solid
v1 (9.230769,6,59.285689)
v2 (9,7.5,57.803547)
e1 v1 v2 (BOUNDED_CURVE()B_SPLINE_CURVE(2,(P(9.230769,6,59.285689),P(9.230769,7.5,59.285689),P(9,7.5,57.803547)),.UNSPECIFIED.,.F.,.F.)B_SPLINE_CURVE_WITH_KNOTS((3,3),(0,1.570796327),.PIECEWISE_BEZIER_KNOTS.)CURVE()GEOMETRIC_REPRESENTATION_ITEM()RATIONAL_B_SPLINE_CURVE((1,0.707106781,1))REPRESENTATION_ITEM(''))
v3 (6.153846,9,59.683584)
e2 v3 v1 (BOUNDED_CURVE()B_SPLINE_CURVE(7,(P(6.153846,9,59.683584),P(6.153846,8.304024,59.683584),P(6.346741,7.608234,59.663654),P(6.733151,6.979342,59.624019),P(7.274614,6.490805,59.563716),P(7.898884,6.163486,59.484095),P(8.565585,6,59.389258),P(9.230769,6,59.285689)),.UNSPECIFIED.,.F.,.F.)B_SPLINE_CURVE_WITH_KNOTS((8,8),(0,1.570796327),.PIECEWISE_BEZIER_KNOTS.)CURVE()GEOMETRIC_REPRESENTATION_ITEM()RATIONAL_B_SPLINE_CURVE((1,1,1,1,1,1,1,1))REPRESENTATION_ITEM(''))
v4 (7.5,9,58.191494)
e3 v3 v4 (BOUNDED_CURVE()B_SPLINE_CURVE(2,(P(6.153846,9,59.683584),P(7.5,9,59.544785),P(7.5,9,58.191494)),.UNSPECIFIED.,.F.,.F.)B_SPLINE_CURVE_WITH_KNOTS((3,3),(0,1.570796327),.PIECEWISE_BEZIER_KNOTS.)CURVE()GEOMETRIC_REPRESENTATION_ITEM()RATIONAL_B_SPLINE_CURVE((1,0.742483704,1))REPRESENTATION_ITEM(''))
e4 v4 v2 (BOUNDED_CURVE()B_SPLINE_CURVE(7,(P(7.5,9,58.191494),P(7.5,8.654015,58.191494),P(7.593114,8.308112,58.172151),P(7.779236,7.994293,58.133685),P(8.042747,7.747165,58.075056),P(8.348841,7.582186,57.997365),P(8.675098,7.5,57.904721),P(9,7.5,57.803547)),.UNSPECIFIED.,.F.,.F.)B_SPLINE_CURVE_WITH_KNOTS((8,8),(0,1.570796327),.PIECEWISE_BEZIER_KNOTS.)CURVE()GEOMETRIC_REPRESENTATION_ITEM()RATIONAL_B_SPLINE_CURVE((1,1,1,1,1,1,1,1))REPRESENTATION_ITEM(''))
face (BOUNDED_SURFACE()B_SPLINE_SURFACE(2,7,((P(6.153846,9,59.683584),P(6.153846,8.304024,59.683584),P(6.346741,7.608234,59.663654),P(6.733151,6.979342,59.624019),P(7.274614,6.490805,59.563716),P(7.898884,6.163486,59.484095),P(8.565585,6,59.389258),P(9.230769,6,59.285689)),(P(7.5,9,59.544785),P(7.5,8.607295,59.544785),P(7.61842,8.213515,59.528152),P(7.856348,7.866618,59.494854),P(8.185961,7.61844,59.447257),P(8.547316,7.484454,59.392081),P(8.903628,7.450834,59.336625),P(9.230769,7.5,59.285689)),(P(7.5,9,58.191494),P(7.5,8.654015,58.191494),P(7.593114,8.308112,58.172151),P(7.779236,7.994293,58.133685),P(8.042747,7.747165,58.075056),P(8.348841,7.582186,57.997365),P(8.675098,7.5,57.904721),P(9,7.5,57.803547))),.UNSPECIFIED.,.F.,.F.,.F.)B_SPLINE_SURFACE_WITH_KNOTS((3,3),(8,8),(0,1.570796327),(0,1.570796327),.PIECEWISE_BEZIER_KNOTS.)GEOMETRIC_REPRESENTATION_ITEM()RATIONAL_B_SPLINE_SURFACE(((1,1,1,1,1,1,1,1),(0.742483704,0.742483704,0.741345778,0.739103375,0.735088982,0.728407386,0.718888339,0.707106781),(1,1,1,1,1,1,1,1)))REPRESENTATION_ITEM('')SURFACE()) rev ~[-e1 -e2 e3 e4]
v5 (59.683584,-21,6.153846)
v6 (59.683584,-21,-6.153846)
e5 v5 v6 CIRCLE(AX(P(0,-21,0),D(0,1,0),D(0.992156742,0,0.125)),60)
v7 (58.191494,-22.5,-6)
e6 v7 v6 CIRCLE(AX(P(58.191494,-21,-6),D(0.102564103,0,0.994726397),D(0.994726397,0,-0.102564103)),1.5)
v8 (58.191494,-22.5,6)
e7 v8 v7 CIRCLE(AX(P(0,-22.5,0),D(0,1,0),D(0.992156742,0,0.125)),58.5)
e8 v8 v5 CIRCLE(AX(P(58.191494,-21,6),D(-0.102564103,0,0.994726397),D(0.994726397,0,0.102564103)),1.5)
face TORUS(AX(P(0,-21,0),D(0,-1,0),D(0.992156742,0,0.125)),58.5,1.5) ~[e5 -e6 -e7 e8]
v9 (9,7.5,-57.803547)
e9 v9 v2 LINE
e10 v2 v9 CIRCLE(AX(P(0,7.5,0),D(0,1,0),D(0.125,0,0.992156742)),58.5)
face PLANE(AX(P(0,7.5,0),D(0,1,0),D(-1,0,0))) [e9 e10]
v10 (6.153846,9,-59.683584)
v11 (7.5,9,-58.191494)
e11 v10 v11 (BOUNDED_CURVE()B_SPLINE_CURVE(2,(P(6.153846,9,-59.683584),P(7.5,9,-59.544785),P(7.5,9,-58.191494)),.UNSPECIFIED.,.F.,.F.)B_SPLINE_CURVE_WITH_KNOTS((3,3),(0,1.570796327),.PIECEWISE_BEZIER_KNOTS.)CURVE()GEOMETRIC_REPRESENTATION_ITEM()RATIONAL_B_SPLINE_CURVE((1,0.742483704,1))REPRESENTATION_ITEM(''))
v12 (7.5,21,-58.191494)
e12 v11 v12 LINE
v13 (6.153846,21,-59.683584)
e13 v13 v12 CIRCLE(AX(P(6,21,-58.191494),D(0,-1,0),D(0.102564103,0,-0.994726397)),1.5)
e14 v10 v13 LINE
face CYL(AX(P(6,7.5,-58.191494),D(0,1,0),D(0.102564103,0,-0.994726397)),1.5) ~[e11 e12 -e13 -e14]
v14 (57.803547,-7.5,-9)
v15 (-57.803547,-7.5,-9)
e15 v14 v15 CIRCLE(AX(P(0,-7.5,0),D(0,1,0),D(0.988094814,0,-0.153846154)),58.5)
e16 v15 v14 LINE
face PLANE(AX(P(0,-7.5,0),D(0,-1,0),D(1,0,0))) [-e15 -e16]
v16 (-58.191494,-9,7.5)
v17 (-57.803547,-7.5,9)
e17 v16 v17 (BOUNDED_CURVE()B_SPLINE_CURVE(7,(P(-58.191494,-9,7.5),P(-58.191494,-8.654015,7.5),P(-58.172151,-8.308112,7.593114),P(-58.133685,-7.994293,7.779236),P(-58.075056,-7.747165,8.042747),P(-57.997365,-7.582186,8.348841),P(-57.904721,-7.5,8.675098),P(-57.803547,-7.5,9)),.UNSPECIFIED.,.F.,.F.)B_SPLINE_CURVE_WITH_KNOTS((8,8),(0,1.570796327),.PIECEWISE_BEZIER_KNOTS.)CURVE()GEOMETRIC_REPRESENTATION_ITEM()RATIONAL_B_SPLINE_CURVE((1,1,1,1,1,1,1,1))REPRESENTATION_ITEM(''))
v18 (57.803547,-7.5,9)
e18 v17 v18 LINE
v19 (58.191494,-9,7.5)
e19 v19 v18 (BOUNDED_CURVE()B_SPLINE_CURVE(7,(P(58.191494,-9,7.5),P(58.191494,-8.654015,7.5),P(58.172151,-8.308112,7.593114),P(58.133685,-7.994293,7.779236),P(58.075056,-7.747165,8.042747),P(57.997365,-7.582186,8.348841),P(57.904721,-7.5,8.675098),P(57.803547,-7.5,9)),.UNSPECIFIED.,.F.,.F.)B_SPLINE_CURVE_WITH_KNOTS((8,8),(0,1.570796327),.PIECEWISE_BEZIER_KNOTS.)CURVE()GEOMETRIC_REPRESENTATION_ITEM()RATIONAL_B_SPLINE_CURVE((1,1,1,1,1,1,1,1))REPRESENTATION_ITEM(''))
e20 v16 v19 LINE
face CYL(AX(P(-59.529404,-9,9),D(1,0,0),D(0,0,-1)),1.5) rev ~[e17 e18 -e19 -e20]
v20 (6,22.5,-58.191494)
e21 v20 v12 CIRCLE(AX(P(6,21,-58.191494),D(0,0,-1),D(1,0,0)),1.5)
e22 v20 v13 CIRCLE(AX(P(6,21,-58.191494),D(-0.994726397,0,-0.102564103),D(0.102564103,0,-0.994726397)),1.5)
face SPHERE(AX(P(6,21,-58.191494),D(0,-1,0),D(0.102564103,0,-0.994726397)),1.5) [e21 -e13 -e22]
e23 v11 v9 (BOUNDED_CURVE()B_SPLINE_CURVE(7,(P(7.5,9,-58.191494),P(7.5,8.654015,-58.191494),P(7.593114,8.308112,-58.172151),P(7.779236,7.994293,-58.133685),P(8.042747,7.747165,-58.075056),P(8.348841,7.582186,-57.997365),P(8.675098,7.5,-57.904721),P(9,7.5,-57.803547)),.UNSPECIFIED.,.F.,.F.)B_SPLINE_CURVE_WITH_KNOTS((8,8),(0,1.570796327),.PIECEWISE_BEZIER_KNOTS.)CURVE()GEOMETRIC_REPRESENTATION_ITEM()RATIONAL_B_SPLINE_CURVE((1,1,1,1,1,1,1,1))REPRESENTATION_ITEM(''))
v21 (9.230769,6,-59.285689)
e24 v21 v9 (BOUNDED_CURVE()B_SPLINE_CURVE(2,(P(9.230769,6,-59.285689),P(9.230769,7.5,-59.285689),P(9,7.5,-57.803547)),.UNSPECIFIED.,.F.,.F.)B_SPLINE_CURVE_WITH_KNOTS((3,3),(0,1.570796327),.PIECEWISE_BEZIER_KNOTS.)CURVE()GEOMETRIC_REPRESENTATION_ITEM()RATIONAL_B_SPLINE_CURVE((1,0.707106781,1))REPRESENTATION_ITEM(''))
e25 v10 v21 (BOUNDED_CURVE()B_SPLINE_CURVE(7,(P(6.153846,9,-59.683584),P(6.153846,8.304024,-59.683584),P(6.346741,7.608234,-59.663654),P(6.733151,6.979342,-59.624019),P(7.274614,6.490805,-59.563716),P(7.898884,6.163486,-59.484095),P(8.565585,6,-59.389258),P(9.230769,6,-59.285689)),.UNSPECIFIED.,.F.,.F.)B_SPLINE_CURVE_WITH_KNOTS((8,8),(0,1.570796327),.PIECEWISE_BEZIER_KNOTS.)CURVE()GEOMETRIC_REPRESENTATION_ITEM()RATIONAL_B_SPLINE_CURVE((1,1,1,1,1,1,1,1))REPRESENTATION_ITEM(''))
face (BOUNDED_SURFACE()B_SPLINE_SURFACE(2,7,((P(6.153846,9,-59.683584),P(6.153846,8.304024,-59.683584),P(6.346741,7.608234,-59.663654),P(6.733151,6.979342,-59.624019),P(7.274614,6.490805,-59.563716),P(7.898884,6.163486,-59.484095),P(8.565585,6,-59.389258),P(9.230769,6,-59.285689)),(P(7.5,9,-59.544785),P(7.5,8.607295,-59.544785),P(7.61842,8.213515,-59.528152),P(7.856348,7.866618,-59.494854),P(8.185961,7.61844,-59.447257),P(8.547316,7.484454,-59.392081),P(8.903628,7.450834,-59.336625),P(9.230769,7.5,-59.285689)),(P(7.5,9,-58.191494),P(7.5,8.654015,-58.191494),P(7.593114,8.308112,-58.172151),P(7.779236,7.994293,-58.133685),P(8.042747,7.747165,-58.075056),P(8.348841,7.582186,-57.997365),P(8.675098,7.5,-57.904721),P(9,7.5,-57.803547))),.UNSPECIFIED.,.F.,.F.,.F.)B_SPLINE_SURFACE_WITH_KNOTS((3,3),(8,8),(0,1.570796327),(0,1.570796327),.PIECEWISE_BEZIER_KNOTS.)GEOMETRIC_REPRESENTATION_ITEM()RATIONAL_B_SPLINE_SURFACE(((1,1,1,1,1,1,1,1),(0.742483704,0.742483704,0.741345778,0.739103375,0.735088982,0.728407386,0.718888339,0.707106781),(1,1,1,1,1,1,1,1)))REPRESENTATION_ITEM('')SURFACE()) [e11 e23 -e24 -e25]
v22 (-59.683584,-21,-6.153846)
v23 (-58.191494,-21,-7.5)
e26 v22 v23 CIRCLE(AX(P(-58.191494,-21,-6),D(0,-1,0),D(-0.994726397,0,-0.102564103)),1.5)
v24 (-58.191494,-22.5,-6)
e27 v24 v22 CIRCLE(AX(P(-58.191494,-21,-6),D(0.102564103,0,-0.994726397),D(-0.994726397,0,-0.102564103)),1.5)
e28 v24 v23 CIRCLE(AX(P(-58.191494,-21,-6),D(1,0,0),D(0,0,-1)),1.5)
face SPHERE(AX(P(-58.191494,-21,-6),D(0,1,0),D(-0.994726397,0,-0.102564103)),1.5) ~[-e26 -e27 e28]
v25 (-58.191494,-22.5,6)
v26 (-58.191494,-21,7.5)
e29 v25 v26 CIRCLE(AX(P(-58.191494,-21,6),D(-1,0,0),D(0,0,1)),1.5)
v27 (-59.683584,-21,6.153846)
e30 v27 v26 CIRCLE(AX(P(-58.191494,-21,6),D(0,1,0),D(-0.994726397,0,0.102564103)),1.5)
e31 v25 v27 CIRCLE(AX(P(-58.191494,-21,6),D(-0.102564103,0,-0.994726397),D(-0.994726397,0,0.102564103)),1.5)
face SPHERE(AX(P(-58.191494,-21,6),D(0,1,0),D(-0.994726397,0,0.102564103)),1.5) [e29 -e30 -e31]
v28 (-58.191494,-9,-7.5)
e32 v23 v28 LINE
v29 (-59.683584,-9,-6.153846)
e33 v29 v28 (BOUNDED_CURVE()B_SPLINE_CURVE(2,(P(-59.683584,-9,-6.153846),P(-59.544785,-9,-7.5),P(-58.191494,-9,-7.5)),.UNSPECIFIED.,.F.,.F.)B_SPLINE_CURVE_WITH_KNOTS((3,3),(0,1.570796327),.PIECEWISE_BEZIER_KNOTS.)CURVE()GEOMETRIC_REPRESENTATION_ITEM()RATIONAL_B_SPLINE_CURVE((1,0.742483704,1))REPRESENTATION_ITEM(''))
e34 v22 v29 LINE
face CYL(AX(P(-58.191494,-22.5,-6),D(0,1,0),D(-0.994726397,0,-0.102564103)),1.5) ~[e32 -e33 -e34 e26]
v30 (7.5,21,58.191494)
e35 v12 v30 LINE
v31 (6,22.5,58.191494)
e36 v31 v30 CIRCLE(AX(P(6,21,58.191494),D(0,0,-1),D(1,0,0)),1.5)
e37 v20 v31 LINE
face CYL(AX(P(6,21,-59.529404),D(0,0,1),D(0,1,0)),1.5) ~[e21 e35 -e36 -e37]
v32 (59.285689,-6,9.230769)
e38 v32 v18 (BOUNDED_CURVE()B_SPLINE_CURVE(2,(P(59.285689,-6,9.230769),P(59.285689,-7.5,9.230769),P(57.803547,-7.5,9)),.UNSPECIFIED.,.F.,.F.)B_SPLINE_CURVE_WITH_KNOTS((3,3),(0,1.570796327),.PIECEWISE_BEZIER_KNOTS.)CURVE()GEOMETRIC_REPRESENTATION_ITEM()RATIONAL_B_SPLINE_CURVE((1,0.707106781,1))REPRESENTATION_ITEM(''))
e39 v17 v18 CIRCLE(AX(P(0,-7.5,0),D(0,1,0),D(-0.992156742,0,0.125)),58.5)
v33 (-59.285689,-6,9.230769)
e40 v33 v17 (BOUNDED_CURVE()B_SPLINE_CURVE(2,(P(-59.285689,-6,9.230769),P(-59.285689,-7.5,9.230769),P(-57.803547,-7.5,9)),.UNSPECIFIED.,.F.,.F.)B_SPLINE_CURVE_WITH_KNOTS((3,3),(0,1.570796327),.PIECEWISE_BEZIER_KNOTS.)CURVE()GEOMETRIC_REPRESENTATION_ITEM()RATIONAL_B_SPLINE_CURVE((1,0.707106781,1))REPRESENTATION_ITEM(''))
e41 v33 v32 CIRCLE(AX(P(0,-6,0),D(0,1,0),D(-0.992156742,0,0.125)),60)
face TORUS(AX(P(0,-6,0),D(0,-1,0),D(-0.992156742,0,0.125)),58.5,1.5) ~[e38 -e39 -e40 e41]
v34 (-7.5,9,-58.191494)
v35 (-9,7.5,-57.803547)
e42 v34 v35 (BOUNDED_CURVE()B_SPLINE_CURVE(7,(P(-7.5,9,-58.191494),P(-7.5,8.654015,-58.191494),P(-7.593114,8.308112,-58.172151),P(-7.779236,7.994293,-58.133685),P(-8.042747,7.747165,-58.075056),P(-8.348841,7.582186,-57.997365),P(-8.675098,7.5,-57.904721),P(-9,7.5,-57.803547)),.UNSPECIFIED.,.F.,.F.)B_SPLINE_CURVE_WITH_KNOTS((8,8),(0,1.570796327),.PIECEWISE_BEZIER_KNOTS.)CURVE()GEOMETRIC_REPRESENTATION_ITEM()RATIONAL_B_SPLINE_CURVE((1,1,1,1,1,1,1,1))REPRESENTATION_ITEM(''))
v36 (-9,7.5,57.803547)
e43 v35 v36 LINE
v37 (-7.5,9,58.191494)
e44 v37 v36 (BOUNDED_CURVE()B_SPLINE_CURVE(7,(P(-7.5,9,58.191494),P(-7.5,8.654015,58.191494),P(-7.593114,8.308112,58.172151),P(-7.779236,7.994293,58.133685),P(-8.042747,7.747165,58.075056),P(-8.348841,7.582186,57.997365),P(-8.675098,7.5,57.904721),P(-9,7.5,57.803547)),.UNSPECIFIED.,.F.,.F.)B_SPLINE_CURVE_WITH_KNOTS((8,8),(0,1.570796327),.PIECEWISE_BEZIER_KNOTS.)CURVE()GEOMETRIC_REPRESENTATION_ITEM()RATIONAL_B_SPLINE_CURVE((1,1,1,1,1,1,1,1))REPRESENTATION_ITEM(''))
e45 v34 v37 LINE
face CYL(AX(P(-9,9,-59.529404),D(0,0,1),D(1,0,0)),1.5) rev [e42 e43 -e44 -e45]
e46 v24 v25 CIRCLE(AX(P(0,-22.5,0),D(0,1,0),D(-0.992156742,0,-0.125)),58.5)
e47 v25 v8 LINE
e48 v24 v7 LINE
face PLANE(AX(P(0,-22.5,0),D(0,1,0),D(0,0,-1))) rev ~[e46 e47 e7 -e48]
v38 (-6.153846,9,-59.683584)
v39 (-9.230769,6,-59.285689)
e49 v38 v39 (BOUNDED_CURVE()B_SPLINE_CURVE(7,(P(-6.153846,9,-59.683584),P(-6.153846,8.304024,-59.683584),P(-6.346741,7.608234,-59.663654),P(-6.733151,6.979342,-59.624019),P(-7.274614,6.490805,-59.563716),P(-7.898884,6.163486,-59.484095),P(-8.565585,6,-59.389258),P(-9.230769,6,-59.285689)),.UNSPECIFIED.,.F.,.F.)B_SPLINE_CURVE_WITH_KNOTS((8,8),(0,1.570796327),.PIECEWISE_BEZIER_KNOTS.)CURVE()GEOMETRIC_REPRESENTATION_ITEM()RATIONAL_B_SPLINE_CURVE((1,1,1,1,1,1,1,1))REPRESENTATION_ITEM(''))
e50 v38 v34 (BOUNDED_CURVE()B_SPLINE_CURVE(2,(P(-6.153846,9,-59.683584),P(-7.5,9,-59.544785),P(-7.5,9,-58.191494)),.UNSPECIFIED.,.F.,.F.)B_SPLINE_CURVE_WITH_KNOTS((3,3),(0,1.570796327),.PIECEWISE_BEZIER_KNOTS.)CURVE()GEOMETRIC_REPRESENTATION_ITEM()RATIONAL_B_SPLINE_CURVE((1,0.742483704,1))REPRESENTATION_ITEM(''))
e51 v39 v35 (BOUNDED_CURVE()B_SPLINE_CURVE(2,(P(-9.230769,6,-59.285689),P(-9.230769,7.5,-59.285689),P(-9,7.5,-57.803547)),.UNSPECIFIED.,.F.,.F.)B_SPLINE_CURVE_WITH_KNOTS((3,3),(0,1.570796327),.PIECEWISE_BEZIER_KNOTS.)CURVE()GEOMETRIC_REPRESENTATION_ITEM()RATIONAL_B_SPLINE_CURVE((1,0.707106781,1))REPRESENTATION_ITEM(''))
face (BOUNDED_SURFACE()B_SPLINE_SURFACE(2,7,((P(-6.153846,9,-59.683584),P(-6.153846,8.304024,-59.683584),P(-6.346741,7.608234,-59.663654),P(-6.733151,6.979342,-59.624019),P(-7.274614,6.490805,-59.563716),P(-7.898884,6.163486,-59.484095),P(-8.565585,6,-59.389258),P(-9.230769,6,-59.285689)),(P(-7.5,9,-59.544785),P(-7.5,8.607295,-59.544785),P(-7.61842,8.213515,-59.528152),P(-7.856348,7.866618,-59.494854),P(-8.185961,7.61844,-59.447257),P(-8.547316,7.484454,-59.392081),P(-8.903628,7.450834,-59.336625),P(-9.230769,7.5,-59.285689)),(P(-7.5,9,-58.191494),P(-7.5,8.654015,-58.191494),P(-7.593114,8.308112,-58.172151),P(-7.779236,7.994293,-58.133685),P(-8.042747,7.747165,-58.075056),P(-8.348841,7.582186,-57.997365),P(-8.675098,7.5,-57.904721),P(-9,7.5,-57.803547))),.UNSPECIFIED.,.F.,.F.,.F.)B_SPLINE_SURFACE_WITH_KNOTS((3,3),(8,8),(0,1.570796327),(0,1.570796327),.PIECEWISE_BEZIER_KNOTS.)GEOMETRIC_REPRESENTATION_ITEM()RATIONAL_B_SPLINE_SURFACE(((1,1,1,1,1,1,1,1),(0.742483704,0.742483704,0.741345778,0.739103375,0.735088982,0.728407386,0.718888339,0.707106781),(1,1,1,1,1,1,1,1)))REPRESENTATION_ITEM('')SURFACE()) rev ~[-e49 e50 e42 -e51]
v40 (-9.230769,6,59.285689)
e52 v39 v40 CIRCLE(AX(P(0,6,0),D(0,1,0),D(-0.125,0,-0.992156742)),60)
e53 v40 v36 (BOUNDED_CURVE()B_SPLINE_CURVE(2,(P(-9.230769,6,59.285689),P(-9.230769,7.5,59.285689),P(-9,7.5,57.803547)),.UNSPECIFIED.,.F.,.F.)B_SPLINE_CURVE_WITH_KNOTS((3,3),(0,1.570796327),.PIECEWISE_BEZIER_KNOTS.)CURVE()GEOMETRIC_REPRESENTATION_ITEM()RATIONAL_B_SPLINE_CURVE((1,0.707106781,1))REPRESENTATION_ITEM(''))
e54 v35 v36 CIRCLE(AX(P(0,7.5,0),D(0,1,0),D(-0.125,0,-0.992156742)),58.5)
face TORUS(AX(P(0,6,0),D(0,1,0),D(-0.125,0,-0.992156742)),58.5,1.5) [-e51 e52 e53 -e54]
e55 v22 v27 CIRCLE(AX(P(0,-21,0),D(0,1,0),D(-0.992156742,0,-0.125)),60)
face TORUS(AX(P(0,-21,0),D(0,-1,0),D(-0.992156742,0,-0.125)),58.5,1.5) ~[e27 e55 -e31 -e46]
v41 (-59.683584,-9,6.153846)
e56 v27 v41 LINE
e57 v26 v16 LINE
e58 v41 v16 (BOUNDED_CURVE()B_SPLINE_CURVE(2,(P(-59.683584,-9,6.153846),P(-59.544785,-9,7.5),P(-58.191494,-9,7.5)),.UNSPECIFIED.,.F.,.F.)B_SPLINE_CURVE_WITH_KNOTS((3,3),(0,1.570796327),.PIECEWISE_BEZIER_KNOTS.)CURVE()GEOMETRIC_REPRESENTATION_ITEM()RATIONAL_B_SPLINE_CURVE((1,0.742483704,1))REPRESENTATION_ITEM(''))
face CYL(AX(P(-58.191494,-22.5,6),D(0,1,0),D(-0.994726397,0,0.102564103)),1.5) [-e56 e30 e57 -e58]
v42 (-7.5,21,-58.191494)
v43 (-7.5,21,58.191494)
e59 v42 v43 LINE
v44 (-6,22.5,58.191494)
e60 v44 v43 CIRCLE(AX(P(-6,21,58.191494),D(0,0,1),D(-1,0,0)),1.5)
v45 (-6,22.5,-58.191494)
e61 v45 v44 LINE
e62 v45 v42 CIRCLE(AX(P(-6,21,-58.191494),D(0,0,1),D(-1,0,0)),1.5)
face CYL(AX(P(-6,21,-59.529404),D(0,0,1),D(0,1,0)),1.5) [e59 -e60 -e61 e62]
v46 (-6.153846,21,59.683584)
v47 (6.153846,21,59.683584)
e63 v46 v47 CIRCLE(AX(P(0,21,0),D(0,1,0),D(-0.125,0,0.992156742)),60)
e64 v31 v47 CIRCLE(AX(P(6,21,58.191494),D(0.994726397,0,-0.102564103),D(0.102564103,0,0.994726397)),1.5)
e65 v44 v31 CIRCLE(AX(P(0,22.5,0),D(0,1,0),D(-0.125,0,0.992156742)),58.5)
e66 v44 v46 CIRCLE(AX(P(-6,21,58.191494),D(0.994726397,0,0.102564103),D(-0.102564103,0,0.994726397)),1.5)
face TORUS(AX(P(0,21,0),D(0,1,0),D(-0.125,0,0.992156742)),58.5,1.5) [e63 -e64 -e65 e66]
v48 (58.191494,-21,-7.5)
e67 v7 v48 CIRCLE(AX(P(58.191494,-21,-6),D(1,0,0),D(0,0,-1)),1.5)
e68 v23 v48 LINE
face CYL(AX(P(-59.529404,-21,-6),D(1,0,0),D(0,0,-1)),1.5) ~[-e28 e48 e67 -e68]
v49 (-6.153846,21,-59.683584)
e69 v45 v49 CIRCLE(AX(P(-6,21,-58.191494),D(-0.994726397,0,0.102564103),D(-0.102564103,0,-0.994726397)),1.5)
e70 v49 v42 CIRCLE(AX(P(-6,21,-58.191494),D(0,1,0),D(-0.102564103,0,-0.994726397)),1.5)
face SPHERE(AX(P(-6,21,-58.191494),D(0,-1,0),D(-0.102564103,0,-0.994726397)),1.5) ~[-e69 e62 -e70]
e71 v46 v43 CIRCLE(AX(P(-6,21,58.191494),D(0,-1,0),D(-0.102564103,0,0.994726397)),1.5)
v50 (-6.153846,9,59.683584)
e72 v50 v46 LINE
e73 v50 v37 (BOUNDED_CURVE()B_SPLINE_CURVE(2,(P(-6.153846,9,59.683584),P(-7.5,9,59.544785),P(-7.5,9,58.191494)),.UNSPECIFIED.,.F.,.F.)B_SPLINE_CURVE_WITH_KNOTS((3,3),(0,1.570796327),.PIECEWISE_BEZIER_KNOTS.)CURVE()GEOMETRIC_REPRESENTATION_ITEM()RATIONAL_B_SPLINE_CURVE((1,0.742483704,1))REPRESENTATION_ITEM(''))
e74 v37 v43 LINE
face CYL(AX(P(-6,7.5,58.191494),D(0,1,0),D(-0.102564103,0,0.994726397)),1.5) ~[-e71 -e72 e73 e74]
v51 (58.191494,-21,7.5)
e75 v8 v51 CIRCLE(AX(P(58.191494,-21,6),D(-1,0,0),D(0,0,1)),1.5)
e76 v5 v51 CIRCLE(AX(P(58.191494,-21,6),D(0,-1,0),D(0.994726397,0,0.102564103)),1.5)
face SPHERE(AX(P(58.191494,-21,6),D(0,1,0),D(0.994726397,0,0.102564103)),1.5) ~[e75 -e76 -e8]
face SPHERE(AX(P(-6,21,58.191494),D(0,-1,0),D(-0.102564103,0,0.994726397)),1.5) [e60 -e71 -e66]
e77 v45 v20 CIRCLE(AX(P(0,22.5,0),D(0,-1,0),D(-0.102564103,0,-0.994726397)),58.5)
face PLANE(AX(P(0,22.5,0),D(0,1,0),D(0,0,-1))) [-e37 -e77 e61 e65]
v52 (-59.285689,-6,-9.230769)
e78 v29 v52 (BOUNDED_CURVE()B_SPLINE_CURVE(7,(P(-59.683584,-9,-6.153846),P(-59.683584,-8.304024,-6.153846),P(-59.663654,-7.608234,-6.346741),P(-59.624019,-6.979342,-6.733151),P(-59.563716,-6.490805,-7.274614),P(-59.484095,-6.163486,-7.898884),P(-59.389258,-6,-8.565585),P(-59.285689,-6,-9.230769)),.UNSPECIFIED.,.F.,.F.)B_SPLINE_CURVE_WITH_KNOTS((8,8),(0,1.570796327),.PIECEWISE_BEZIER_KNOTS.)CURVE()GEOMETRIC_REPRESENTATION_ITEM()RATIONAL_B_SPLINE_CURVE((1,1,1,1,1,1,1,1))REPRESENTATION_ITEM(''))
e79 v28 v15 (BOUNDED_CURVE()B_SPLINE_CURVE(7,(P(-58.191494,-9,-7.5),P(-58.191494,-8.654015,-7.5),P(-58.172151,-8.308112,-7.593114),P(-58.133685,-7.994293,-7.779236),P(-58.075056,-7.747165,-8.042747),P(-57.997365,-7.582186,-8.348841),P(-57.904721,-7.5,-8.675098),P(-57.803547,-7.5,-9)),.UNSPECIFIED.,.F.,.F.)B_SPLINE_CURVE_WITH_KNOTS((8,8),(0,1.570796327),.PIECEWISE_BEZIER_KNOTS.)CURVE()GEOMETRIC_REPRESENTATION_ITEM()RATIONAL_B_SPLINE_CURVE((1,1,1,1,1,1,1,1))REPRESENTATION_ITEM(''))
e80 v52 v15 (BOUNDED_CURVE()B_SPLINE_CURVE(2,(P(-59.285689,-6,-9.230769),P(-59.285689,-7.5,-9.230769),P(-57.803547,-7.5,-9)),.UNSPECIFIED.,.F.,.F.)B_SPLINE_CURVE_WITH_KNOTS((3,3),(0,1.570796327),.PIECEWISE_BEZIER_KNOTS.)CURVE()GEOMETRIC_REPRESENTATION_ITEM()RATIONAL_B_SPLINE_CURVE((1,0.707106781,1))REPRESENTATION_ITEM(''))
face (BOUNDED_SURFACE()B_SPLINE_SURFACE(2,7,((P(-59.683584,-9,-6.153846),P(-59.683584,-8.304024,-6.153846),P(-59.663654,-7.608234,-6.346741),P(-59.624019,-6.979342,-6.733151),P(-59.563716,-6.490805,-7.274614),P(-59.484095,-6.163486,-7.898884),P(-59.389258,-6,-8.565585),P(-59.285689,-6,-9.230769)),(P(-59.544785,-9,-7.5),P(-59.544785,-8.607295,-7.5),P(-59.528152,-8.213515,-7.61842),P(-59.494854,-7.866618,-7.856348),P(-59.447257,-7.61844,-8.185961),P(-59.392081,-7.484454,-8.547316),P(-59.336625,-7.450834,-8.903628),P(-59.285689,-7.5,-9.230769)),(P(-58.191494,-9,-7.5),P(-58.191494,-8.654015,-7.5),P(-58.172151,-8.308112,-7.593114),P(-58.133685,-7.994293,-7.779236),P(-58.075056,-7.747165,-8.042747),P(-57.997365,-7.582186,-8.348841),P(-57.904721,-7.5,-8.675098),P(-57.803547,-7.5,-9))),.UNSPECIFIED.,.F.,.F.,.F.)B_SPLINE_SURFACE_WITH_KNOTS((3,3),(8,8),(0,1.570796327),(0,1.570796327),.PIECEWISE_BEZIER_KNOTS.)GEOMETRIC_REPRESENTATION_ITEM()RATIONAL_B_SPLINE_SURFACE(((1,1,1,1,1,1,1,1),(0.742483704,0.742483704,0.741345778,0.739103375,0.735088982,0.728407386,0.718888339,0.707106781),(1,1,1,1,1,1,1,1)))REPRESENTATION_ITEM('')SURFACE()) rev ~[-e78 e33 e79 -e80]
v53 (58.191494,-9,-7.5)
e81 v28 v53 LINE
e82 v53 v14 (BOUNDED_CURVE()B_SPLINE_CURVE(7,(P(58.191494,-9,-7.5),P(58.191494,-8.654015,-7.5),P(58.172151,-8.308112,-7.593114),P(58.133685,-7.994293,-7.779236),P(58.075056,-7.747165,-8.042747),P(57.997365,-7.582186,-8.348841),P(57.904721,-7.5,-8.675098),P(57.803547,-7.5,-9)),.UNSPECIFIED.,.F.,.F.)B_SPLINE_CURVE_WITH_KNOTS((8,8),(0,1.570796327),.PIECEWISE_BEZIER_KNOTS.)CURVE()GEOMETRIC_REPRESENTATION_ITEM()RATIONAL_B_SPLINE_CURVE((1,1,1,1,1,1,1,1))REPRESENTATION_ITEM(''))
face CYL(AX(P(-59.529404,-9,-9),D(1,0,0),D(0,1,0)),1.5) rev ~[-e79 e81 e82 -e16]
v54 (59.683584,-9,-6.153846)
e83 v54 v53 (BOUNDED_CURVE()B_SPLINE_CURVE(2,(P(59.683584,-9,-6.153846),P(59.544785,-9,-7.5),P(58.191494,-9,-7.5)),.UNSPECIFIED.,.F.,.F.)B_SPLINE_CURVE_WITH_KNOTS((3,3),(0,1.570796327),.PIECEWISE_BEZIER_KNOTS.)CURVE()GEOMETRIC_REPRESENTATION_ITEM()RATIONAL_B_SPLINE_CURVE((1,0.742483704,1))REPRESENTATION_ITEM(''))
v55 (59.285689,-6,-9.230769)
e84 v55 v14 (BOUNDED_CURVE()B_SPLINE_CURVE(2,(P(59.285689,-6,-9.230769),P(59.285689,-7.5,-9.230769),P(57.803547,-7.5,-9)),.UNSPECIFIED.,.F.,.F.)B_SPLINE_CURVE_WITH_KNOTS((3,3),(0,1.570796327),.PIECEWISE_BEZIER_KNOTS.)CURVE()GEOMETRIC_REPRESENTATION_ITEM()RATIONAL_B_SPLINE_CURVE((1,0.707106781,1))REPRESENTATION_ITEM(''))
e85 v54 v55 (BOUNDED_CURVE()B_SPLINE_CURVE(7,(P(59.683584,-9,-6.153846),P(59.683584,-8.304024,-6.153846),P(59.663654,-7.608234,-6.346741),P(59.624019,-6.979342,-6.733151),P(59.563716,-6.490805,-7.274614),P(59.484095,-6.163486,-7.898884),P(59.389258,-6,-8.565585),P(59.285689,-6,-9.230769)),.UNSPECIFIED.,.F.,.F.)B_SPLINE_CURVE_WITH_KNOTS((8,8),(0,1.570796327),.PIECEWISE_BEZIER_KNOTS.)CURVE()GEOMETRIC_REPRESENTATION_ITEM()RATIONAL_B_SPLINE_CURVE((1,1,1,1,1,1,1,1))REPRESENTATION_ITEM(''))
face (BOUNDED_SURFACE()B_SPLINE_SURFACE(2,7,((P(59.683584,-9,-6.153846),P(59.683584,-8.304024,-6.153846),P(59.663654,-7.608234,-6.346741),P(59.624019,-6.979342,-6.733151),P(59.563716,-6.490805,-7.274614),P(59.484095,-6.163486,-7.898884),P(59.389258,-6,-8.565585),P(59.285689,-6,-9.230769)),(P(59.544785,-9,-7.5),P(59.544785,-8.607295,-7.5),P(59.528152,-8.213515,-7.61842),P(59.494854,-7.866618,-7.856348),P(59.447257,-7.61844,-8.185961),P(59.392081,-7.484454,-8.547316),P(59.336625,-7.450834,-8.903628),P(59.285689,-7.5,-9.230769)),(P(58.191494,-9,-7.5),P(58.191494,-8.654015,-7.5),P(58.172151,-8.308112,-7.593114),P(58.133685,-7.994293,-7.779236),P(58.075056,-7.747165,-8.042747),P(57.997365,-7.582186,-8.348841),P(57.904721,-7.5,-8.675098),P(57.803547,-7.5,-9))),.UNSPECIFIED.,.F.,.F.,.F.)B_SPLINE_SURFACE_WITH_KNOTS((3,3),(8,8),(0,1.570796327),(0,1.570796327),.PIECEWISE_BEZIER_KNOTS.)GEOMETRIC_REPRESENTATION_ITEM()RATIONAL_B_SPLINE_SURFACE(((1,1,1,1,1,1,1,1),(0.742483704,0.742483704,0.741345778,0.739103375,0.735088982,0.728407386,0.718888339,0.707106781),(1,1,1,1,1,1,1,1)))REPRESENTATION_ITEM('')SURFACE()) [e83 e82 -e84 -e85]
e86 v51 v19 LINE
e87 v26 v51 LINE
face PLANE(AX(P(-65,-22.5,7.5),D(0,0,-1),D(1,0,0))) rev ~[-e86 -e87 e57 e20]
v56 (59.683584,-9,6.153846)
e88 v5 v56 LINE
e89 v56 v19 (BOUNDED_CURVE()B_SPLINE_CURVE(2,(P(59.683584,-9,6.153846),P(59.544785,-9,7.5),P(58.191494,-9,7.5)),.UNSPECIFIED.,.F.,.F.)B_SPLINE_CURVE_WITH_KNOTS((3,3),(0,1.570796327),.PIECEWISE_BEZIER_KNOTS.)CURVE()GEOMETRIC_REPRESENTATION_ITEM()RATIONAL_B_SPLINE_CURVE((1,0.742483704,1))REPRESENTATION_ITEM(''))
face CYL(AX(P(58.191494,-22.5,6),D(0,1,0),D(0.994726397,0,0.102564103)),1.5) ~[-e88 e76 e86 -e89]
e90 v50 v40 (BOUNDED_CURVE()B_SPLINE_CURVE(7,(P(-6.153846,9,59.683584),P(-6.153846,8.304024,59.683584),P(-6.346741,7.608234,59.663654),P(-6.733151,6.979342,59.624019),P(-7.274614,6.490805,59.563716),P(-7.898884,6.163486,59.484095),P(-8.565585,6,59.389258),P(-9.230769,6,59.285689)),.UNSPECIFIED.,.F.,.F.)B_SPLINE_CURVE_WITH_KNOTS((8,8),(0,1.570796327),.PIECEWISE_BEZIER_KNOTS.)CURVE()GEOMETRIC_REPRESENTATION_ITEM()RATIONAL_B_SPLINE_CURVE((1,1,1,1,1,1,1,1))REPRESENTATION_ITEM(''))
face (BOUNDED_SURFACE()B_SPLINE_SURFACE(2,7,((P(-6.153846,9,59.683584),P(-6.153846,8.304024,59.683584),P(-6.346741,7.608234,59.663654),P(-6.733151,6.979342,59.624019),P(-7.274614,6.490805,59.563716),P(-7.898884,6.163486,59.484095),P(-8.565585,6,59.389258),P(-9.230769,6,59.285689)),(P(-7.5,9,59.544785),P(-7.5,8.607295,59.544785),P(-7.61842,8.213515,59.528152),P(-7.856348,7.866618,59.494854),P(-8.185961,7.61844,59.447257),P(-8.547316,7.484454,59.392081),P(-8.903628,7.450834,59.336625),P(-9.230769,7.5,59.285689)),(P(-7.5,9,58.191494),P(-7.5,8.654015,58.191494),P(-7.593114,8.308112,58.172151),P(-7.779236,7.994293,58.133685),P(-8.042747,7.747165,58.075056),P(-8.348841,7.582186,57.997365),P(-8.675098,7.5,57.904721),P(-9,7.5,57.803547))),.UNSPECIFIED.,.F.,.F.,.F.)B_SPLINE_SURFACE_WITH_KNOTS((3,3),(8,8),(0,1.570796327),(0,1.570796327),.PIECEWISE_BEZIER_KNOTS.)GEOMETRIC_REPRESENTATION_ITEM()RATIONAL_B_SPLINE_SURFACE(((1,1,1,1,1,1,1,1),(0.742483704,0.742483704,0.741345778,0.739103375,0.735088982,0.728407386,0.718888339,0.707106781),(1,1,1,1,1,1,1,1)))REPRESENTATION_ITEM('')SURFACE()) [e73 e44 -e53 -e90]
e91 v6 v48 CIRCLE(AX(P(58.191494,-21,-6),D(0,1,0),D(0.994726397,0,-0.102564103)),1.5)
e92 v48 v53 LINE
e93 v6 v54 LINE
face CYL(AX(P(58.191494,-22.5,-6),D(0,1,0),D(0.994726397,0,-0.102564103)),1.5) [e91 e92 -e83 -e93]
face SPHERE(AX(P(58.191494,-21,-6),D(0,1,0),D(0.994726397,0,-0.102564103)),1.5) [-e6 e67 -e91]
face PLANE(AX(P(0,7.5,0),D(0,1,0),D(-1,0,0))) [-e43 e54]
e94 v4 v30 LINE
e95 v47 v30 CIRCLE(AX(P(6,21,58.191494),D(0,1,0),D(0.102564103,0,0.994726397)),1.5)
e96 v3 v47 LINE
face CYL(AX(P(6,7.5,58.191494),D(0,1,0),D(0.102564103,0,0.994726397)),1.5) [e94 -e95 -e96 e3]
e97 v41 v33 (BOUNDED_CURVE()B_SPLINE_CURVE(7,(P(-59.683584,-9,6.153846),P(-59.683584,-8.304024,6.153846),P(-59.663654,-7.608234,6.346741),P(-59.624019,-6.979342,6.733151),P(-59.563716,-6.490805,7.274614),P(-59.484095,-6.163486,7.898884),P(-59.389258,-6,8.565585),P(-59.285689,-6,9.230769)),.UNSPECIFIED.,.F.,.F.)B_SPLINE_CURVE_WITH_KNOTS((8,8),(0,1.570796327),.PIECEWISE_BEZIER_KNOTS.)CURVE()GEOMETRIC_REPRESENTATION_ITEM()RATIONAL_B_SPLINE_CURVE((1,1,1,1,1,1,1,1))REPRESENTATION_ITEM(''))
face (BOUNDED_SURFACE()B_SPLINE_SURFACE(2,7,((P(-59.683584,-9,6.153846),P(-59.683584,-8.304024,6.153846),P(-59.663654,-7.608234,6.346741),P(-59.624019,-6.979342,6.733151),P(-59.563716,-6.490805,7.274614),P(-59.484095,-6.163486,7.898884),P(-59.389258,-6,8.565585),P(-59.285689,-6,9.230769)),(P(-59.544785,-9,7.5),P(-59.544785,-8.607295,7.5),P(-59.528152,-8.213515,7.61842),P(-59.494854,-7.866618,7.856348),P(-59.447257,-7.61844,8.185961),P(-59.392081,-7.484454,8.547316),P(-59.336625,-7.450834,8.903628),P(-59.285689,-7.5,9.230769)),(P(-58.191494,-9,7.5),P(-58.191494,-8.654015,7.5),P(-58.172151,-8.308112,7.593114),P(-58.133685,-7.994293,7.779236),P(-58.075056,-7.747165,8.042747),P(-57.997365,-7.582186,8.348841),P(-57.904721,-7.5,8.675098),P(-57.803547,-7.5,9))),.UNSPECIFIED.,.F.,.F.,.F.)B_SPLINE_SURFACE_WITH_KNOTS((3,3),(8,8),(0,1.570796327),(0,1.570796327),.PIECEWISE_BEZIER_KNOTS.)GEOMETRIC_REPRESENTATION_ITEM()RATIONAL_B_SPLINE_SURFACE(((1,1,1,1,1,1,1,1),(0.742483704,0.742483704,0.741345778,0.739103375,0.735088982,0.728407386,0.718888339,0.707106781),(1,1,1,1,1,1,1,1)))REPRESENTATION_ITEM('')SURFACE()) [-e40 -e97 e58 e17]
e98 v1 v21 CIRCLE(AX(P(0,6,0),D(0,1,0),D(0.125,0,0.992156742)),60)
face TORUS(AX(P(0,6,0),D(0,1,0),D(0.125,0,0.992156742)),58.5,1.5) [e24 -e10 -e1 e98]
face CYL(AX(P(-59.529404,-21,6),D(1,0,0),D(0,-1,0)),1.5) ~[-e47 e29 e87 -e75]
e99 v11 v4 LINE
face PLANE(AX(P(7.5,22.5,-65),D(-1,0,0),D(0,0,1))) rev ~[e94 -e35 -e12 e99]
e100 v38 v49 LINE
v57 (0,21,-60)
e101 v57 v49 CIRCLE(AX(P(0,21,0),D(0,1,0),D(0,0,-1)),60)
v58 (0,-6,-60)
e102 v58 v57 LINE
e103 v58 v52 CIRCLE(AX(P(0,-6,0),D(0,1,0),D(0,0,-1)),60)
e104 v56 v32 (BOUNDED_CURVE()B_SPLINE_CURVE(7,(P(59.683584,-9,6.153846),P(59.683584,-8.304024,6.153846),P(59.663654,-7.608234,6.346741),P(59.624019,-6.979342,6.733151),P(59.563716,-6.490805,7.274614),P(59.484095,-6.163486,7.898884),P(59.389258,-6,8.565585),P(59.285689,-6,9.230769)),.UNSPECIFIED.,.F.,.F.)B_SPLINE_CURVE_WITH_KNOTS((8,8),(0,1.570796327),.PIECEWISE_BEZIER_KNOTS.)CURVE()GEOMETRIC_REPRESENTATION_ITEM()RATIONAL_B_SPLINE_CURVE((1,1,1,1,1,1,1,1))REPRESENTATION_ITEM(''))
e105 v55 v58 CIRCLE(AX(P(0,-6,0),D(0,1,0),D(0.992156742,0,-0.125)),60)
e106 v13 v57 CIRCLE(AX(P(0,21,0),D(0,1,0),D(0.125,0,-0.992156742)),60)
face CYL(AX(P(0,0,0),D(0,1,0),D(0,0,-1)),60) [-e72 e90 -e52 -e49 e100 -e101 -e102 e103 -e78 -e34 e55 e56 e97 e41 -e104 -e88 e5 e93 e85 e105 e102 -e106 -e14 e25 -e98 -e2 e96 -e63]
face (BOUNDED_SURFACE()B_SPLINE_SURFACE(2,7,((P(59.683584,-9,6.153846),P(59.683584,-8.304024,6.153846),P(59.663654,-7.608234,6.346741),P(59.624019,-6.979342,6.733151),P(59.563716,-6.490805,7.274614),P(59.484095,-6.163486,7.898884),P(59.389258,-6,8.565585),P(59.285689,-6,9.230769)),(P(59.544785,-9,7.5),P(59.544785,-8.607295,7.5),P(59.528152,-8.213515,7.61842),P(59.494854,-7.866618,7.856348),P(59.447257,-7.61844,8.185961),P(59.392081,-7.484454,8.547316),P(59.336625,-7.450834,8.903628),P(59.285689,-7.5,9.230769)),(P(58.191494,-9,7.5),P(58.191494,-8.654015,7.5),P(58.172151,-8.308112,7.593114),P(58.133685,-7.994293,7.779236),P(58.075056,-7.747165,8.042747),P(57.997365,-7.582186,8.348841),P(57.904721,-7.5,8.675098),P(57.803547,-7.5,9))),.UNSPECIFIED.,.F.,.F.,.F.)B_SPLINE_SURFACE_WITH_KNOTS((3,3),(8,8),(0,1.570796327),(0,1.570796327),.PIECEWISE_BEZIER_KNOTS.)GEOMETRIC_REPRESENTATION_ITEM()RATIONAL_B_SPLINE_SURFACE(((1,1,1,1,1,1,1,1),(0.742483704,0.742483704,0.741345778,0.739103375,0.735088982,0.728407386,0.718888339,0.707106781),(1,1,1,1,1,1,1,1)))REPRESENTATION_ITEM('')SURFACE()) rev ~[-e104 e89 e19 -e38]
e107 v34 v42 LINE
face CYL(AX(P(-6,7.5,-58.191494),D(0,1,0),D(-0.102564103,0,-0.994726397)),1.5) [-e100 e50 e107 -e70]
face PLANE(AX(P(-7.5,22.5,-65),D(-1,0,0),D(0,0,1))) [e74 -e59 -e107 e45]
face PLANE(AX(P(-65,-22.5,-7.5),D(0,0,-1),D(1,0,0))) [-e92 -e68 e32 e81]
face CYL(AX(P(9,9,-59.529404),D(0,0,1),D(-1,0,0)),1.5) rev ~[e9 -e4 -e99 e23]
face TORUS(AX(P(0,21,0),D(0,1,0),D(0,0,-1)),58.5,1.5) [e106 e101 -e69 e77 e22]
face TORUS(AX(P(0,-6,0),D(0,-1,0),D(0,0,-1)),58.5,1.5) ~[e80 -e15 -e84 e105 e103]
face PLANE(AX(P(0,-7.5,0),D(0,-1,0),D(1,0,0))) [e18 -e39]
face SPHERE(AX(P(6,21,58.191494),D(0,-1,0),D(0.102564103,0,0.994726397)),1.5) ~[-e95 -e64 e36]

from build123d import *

# Parameters (mm, degrees)
SKETCH2_R           = 60
BOSS_EXTRUDE1_DEPTH = 22.5
SKETCH3_OUTSIDE_W   = 157.114
SKETCH3_OUTSIDE_H   = 157.114
SKETCH3_OUTSIDE_W_2 = 15
SKETCH3_OUTSIDE_H_2 = 130
CUT_EXTRUDE1_DEPTH  = 15
SKETCH4_OUTSIDE_W   = 157.114
SKETCH4_OUTSIDE_H   = 157.114
SKETCH4_OUTSIDE_W_2 = 130
SKETCH4_OUTSIDE_H_2 = 15
CUT_EXTRUDE2_DEPTH  = 15
FILLET1_R           = 1.5


with BuildPart() as part:
    # Sketch2 → Boss-Extrude1 (new, symmetric)
    with BuildSketch(Plane(origin=(0, 0, 0), x_dir=(-1, 0, 0), z_dir=(0, 1, 0))):
        with Locations(Location((0, 0, 0), (0, 0, 270))):
            Circle(SKETCH2_R)
    extrude(amount=BOSS_EXTRUDE1_DEPTH, both=True)

    # Sketch3 outside → Cut-Extrude1 (cut)
    with BuildSketch(Plane(origin=(0, 22.5, 0), x_dir=(-1, 0, 0), z_dir=(0, 1, 0))):
        Rectangle(SKETCH3_OUTSIDE_W, SKETCH3_OUTSIDE_H)
        Rectangle(SKETCH3_OUTSIDE_W_2, SKETCH3_OUTSIDE_H_2, mode=Mode.SUBTRACT)
    extrude(amount=-CUT_EXTRUDE1_DEPTH, mode=Mode.SUBTRACT)

    # Sketch4 outside → Cut-Extrude2 (cut)
    with BuildSketch(Plane.XZ.offset(22.5)):
        Rectangle(SKETCH4_OUTSIDE_W, SKETCH4_OUTSIDE_H)
        Rectangle(SKETCH4_OUTSIDE_W_2, SKETCH4_OUTSIDE_H_2, mode=Mode.SUBTRACT)
    extrude(amount=-CUT_EXTRUDE2_DEPTH, mode=Mode.SUBTRACT)

    # Fillet1
    fillet1_edges = [part.edges().sort_by_distance(p)[0] for p in [
        (7.5, 7.5, 0),
        (-7.5, 7.5, 0),
        (-7.5, 15, -59.529404499),
        (7.5, 15, 59.529404499),
        (-7.5, 15, 59.529404499),
        (7.5, 15, -59.529404499),
        (60, -22.5, 0),
        (-60, -22.5, 0),
        (0, -22.5, 7.5),
        (0, -22.5, -7.5),
        (0, -7.5, 60),
        (-39.686269666, -7.5, -45),
        (0, -7.5, 7.5),
        (0, -7.5, -7.5),
        (59.529404499, -15, -7.5),
        (-59.529404499, -15, 7.5),
        (-59.529404499, -15, -7.5),
        (59.529404499, -15, 7.5),
        (-3.757374753, 22.5, -59.882235554),
        (0, 22.5, 60),
        (7.5, 22.5, 0),
        (-7.5, 22.5, 0),
        (60, 7.5, 0),
        (-60, 7.5, 0),
    ]]
    fillet(fillet1_edges, radius=FILLET1_R)


solid = part.part
